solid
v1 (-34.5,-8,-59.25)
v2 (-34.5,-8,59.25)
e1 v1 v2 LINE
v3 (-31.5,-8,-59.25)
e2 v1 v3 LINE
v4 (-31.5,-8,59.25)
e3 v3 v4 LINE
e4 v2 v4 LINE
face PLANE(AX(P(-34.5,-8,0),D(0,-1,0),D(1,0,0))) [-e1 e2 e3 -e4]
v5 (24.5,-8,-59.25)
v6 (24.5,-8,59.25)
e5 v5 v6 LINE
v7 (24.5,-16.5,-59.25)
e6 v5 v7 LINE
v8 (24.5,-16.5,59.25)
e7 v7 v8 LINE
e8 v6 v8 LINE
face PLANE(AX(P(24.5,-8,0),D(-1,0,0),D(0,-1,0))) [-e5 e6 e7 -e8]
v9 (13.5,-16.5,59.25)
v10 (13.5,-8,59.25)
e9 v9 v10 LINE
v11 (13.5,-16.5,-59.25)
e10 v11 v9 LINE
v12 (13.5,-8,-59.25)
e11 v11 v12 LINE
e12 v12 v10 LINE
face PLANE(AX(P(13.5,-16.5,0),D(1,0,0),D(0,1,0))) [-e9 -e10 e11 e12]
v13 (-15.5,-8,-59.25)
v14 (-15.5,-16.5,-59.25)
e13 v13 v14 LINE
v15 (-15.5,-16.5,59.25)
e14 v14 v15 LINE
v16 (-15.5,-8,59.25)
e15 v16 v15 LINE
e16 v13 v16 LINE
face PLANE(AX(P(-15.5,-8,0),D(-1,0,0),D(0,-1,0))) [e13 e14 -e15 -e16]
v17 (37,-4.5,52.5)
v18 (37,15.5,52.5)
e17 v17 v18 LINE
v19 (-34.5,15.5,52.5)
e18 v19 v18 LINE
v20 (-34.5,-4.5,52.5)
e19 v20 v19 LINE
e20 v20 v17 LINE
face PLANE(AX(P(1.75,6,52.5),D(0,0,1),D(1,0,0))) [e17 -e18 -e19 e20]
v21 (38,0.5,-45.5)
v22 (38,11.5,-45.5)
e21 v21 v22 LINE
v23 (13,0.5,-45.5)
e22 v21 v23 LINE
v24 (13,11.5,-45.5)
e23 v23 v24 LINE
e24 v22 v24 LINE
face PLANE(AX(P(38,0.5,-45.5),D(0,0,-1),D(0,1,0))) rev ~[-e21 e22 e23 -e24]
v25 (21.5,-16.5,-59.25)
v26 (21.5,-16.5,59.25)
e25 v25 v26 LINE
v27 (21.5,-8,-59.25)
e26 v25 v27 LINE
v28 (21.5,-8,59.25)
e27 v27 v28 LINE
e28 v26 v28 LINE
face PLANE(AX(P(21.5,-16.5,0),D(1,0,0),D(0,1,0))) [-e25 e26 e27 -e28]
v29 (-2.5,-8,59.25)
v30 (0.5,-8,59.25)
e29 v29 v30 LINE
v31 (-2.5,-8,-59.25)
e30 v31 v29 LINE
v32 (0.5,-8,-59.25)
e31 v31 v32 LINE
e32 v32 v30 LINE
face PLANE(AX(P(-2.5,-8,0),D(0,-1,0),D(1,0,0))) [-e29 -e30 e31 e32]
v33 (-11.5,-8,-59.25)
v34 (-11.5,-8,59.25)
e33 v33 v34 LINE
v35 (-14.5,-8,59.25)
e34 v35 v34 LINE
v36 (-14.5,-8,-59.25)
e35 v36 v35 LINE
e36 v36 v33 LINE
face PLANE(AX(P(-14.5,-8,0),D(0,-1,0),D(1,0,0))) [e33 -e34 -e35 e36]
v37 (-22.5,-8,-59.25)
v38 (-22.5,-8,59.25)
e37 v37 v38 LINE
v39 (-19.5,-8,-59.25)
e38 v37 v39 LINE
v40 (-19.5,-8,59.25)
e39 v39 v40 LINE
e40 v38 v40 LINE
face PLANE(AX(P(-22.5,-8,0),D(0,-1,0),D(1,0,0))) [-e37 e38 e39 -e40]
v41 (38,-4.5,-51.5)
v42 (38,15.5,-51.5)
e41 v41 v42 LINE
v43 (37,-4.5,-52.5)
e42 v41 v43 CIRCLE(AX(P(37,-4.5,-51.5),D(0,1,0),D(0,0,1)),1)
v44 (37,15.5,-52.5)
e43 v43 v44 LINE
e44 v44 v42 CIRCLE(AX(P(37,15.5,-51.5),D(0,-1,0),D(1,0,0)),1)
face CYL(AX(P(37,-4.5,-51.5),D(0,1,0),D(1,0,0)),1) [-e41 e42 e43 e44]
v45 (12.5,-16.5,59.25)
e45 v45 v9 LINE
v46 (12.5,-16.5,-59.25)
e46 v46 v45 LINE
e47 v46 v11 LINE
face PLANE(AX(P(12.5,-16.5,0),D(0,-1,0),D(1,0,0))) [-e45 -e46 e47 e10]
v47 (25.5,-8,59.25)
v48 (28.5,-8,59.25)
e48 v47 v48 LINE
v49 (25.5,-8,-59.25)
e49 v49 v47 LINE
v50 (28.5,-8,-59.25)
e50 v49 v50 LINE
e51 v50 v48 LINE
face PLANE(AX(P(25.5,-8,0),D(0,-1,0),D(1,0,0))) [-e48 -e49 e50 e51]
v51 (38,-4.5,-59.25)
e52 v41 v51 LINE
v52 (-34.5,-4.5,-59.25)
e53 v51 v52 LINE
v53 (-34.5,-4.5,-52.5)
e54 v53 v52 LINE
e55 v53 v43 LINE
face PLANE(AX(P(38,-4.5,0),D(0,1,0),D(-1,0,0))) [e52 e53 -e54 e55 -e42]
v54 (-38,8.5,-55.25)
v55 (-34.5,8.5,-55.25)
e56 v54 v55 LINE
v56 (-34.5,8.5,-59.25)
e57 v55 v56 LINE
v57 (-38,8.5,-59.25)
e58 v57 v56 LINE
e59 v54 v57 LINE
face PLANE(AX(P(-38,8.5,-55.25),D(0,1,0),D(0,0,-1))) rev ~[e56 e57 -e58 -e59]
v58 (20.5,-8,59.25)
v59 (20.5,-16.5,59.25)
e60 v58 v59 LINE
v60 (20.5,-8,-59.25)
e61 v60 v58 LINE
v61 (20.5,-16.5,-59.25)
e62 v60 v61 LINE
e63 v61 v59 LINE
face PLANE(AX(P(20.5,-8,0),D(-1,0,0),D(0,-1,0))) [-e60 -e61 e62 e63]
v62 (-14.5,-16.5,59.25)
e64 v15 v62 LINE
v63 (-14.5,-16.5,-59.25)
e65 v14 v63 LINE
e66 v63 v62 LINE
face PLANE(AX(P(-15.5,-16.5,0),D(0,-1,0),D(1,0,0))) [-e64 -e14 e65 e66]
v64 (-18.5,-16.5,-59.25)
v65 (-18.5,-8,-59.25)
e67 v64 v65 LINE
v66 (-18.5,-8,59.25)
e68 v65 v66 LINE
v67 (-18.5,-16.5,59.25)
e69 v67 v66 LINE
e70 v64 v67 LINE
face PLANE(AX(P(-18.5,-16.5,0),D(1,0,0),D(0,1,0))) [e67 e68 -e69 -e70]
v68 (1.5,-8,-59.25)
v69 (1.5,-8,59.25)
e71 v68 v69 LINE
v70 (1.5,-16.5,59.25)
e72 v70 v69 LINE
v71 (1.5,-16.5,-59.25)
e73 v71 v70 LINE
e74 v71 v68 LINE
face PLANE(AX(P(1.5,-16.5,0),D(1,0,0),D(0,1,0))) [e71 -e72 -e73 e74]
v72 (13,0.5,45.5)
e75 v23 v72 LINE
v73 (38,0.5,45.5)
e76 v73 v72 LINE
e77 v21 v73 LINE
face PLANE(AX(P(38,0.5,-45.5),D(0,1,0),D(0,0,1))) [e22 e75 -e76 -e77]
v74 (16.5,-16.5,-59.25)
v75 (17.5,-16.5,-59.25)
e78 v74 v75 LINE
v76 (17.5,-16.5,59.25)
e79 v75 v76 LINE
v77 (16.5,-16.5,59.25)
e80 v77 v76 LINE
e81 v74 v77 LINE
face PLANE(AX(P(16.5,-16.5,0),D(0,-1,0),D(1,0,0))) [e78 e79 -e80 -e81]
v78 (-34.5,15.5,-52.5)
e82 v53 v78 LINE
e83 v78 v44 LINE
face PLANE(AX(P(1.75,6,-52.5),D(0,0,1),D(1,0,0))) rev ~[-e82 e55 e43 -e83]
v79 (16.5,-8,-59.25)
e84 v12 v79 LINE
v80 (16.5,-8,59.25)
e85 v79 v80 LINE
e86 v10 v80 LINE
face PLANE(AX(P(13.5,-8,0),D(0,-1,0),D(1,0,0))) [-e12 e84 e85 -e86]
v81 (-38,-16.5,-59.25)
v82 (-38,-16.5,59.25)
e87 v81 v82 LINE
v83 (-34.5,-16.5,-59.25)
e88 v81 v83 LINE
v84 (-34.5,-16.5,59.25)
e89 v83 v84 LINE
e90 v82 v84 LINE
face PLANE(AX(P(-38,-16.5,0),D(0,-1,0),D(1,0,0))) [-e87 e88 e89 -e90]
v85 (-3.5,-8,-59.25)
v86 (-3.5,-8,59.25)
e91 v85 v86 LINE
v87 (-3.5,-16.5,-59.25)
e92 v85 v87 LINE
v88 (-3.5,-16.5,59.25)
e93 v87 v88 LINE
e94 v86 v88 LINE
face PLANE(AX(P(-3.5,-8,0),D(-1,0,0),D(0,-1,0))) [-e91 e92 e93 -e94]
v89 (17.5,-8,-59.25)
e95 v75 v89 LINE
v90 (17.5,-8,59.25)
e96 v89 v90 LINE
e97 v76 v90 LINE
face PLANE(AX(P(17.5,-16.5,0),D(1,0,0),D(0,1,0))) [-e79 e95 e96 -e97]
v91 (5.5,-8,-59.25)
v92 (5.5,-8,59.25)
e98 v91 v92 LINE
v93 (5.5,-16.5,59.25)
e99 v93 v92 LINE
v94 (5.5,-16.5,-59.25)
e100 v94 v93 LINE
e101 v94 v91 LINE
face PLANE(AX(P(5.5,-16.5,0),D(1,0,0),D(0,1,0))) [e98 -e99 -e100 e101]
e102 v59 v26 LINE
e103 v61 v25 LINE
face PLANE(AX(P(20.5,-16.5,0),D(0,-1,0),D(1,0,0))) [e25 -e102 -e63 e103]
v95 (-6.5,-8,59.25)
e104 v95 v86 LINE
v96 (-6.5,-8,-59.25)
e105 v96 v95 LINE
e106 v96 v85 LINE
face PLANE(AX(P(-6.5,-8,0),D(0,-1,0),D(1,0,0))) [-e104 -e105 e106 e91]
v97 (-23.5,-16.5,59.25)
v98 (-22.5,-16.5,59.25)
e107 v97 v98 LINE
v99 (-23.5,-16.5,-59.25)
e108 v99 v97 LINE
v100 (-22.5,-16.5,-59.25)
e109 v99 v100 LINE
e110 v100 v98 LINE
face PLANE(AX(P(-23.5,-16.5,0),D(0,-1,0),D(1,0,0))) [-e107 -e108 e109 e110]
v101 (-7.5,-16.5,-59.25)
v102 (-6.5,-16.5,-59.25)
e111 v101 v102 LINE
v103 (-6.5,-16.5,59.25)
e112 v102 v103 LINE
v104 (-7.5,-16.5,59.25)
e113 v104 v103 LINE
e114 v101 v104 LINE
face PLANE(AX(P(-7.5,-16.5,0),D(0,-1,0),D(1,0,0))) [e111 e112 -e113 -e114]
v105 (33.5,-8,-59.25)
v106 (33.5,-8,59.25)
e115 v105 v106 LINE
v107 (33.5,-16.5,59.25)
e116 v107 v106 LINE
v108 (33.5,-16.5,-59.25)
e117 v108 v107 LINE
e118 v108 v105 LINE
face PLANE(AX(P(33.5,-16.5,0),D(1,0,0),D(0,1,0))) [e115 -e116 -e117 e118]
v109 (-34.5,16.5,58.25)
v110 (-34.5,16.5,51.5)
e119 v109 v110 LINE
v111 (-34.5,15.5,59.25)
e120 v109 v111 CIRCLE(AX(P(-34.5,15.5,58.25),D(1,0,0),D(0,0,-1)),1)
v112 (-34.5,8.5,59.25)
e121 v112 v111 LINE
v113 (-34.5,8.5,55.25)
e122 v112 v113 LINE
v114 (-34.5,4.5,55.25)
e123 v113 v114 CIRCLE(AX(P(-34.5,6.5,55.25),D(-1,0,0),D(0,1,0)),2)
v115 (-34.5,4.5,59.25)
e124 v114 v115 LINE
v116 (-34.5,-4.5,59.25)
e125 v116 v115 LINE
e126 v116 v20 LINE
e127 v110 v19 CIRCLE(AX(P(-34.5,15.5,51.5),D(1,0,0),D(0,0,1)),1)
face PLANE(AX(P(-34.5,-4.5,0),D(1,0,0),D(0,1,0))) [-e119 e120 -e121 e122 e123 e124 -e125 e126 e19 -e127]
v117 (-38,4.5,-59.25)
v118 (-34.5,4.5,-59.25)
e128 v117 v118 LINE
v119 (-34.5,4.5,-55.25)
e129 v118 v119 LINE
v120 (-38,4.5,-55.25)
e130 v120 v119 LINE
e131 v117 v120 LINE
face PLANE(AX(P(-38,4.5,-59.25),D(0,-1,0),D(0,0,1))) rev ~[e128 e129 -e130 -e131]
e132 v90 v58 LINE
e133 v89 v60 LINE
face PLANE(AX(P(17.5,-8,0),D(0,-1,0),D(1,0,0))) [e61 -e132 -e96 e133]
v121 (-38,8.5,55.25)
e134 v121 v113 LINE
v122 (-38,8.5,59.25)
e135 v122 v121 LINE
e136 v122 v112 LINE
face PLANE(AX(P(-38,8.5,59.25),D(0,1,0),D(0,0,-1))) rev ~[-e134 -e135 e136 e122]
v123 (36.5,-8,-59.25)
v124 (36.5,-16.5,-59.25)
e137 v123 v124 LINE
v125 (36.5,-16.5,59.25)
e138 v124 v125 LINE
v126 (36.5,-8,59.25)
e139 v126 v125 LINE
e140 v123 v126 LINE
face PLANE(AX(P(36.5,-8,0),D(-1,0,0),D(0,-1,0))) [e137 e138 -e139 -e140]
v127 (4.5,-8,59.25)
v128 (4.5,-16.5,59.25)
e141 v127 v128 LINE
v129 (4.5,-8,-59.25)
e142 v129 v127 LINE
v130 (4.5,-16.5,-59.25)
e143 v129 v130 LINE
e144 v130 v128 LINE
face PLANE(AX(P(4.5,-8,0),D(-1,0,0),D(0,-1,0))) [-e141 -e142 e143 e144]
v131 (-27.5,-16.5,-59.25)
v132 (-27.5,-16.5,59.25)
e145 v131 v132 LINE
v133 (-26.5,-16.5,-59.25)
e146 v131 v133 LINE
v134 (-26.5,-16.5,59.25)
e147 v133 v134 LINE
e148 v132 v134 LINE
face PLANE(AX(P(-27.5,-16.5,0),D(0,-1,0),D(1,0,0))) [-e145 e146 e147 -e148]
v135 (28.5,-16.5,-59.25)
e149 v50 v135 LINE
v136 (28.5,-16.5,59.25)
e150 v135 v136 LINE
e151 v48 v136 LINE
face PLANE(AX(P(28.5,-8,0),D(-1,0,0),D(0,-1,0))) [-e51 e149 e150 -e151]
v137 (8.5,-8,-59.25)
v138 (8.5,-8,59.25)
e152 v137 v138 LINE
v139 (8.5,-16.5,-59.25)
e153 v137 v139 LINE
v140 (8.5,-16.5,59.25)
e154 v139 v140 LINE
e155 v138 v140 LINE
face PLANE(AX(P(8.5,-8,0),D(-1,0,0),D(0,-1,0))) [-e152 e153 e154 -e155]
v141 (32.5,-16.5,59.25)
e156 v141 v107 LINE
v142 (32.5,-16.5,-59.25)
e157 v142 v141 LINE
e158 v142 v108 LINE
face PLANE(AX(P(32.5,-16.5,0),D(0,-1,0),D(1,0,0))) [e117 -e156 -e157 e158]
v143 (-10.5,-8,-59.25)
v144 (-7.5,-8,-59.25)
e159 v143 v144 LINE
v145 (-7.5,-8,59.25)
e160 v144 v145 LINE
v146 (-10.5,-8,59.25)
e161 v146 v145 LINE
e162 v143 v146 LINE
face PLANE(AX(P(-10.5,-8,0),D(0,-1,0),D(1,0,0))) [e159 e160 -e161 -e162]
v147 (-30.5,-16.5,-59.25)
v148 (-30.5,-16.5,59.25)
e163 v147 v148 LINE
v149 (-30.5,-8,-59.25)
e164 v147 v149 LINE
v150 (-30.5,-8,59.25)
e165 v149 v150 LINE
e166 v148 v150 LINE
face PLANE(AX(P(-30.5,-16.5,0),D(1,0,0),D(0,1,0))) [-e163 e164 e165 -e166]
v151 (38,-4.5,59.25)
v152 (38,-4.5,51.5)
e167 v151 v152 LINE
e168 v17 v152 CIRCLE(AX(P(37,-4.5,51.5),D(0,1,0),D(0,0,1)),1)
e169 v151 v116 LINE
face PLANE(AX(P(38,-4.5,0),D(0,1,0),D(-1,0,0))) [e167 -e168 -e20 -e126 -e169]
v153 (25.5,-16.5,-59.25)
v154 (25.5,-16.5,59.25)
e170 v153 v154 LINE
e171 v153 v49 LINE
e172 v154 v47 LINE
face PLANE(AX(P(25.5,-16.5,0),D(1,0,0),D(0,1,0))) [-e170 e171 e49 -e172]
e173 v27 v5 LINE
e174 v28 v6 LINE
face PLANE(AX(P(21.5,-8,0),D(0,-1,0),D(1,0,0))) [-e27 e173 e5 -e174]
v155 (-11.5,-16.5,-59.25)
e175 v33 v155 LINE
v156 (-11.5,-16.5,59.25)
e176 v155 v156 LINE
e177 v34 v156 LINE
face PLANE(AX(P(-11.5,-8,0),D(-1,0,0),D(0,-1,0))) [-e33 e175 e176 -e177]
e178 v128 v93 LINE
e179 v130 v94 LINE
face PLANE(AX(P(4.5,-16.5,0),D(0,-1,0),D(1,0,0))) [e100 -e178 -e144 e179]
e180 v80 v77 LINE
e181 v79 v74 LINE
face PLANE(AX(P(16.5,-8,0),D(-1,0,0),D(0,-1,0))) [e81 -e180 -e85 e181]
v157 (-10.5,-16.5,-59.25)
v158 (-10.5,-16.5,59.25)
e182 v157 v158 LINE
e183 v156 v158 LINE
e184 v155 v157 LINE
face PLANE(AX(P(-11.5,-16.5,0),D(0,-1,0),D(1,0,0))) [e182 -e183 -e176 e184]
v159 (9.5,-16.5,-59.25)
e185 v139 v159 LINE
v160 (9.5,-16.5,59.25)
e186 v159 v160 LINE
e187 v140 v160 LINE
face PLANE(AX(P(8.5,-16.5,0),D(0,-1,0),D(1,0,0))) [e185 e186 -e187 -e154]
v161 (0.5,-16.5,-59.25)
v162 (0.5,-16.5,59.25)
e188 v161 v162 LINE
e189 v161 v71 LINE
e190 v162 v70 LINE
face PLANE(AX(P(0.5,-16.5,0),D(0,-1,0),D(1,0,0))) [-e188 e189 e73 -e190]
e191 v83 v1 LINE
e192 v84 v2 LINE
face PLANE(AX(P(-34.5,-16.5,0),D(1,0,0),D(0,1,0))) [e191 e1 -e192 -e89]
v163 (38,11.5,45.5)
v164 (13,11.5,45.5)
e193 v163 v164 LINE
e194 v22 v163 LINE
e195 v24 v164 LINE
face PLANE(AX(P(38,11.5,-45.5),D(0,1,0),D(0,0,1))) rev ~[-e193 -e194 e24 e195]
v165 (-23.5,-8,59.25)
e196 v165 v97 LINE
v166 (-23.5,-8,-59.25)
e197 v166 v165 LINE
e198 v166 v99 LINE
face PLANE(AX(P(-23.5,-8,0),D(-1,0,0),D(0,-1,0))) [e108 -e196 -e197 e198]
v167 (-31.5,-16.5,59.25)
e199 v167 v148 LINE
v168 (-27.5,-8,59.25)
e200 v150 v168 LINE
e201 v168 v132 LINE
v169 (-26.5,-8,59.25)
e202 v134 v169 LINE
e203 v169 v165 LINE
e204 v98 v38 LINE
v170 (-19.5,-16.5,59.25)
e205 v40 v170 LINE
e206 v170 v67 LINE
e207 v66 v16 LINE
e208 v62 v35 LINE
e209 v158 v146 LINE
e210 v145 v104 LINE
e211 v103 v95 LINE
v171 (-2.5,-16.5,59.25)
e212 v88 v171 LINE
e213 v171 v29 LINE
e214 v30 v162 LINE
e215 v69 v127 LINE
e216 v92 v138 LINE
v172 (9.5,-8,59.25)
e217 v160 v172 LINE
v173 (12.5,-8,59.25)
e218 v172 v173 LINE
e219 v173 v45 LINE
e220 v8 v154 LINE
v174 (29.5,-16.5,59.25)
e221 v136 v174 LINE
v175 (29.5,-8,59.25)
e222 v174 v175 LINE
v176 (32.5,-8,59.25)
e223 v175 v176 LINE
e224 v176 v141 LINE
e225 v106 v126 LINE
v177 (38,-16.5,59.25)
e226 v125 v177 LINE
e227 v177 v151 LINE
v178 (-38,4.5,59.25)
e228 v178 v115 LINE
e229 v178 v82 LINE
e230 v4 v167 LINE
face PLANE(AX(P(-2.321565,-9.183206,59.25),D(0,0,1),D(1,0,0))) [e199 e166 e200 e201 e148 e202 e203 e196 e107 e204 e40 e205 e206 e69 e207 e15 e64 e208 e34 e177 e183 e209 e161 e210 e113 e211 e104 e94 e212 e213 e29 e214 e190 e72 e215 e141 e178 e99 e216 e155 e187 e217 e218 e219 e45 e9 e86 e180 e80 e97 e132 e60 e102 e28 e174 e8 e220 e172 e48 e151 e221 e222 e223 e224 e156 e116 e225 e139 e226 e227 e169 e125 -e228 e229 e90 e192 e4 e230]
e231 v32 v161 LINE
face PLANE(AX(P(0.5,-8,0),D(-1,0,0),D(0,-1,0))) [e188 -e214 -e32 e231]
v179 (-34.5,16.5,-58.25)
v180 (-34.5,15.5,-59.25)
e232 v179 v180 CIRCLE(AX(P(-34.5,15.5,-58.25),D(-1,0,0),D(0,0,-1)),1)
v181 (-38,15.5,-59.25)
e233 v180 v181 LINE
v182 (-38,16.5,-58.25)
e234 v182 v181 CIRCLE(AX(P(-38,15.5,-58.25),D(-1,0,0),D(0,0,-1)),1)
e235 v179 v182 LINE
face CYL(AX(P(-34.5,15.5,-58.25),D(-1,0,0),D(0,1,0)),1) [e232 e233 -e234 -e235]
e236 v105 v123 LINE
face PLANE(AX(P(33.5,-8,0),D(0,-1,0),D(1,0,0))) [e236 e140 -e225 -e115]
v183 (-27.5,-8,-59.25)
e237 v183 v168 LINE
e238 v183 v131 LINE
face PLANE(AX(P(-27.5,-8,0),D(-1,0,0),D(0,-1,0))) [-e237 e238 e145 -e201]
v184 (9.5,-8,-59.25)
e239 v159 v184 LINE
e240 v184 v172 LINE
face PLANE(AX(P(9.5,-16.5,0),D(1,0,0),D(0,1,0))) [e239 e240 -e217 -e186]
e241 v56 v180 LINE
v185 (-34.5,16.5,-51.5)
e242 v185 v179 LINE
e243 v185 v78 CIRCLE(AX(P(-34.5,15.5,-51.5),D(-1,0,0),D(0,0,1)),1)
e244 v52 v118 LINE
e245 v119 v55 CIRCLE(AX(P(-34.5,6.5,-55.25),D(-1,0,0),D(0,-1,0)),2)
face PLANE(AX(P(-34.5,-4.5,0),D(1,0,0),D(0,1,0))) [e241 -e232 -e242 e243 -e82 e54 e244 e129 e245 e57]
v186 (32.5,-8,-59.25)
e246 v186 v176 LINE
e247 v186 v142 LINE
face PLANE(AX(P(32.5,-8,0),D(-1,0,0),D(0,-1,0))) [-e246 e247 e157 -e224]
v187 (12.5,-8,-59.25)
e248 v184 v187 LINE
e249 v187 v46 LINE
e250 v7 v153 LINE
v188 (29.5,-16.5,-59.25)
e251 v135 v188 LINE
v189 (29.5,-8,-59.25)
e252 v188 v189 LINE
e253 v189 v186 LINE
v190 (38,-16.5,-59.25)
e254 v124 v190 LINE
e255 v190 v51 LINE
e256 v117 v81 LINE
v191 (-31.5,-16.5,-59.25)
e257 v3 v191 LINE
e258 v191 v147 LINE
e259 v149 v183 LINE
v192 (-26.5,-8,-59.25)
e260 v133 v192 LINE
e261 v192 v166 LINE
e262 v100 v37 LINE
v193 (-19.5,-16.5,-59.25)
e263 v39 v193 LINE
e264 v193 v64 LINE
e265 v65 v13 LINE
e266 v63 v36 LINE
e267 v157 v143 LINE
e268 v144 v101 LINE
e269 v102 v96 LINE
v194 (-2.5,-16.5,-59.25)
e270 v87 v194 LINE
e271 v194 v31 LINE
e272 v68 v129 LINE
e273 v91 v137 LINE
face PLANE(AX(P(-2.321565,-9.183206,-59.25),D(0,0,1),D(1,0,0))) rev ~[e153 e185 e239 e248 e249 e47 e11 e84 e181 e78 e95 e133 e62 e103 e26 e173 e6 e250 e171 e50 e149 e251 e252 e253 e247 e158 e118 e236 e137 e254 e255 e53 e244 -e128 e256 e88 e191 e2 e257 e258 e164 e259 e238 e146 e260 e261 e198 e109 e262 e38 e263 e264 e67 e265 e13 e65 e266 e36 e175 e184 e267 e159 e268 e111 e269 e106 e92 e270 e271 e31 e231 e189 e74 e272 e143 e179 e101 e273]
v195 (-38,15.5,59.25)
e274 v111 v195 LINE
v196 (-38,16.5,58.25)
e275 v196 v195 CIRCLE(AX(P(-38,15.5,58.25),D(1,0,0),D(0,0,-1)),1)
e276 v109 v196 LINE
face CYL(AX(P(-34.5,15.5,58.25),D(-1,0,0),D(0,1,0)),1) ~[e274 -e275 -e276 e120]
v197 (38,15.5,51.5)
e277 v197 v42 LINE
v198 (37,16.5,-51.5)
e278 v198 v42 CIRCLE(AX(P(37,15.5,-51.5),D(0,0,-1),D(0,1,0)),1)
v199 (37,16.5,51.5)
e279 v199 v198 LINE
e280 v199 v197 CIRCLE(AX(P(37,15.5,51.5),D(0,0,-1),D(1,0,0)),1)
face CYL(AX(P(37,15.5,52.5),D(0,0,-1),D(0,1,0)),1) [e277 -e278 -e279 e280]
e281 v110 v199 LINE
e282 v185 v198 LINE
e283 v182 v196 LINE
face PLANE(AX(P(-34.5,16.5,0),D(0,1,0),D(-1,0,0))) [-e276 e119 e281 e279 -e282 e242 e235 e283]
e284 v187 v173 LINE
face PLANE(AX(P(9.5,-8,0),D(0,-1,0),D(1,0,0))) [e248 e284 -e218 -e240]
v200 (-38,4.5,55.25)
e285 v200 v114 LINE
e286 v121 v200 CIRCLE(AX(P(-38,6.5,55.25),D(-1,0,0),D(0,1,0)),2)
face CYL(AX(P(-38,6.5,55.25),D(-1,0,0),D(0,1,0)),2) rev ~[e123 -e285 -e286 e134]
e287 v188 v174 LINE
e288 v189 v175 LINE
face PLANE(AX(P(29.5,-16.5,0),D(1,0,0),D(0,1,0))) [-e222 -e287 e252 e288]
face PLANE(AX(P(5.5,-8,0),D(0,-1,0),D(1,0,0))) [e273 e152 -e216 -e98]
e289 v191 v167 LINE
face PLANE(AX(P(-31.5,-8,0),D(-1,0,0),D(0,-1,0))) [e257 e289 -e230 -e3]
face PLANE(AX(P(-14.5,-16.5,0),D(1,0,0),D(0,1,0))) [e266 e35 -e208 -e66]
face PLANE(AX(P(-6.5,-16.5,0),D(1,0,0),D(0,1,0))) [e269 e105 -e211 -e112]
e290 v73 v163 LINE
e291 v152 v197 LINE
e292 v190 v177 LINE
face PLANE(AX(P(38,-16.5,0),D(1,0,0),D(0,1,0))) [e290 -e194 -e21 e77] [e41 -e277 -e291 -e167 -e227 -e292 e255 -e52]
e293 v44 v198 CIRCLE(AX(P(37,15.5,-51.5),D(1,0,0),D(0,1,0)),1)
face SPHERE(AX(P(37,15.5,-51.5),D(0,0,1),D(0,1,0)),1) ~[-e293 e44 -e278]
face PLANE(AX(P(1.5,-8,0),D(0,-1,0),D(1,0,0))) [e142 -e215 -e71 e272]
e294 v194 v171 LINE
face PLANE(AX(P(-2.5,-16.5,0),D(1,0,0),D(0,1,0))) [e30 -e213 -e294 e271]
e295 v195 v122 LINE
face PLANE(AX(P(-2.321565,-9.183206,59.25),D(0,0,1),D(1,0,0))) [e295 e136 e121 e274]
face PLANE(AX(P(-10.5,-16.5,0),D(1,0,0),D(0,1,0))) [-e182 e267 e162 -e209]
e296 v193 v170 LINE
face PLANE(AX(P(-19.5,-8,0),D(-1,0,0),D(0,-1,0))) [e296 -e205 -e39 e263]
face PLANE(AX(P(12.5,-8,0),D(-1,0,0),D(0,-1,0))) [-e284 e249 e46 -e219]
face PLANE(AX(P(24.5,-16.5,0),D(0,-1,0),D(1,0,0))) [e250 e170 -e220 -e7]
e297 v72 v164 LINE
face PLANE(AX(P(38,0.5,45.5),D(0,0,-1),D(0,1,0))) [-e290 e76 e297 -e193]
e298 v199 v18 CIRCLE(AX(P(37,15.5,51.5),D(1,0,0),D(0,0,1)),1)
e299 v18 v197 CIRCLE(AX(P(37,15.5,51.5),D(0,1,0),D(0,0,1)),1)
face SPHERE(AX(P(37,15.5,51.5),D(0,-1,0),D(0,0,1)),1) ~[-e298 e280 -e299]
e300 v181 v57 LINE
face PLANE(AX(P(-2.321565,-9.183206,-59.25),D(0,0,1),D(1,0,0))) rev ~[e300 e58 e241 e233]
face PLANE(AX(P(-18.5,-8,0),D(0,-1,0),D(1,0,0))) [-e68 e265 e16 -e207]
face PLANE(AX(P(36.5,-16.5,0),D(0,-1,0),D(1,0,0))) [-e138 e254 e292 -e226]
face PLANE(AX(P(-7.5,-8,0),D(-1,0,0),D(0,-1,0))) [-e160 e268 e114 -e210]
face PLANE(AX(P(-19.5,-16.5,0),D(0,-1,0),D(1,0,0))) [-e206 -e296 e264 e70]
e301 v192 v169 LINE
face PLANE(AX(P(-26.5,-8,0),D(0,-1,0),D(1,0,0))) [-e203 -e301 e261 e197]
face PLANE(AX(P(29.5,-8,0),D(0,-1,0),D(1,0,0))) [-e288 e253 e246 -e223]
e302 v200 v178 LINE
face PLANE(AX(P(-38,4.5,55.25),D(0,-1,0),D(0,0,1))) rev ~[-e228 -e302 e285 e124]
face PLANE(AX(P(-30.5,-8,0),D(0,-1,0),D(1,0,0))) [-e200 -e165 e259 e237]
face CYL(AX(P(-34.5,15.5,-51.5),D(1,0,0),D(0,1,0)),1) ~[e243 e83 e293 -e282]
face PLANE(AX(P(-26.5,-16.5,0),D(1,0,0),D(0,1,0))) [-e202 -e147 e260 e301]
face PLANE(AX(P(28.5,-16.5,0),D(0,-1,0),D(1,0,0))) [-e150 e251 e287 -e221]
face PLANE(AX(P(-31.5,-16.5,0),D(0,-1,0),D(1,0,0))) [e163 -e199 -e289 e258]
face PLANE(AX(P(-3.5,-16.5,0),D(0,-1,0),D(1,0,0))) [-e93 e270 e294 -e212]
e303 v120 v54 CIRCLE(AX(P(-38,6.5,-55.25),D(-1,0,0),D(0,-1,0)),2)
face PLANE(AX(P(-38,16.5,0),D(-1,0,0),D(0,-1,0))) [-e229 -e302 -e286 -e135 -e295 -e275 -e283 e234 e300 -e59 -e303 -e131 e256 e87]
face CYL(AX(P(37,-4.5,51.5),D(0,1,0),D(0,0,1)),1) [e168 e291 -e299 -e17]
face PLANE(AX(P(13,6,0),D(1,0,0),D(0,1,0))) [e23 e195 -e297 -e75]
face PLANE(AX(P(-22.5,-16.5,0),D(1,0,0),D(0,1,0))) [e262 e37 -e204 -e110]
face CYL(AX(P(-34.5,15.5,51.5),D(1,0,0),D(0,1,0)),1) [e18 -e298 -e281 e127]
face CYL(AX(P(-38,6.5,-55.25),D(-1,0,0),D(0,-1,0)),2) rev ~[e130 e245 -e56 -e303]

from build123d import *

# Parameters (mm, degrees)
F2_DEPTH = 59.25
F1_W     = 72.5
F1_H     = 21
F3_DEPTH = 52.5
F5_DEPTH = 3.5
F6_W     = 11
F6_H     = 91
F7_DEPTH = 25
F8_R     = 1


with BuildPart() as f2:
    # F1 (on Top) → F2 (new body, symmetric)
    with BuildSketch(Plane.XY):
        Polygon((-34.5, 16.5), (-38, 16.5), (-38, -16.5), (-34.5, -16.5), (-34.5, -8), (-31.5, -8), (-31.5, -16.5), (-30.5, -16.5), (-30.5, -8), (-27.5, -8), (-27.5, -16.5), (-26.5, -16.5), (-26.5, -8), (-23.5, -8), (-23.5, -16.5), (-22.5, -16.5), (-22.5, -8), (-19.5, -8), (-19.5, -16.5), (-18.5, -16.5), (-18.5, -8), (-15.5, -8), (-15.5, -16.5), (-14.5, -16.5), (-14.5, -8), (-11.5, -8), (-11.5, -16.5), (-10.5, -16.5), (-10.5, -8), (-7.5, -8), (-7.5, -16.5), (-6.5, -16.5), (-6.5, -8), (-3.5, -8), (-3.5, -16.5), (-2.5, -16.5), (-2.5, -8), (0.5, -8), (0.5, -16.5), (1.5, -16.5), (1.5, -8), (4.5, -8), (4.5, -16.5), (5.5, -16.5), (5.5, -8), (8.5, -8), (8.5, -16.5), (9.5, -16.5), (9.5, -8), (12.5, -8), (12.5, -16.5), (13.5, -16.5), (13.5, -8), (16.5, -8), (16.5, -16.5), (17.5, -16.5), (17.5, -8), (20.5, -8), (20.5, -16.5), (21.5, -16.5), (21.5, -8), (24.5, -8), (24.5, -16.5), (25.5, -16.5), (25.5, -8), (28.5, -8), (28.5, -16.5), (29.5, -16.5), (29.5, -8), (32.5, -8), (32.5, -16.5), (33.5, -16.5), (33.5, -8), (36.5, -8), (36.5, -16.5), (38, -16.5), (38, -4.5), (-34.5, -4.5), align=None)
    extrude(amount=F2_DEPTH, both=True)

    # F1 (on Top) → F3 (join, symmetric)
    with BuildSketch(Plane.XY):
        with Locations((1.75, 6)):
            Rectangle(F1_W, F1_H)
    extrude(amount=F3_DEPTH, both=True)

    # F4 (on face) → F5 (cut, through all)
    with BuildSketch(Plane(origin=(-38, 0, 0), x_dir=(0, -1, 0), z_dir=(-1, 0, 0))):
        with BuildLine():
            Line((-4.5, 59.25), (-8.5, 59.25))
            Line((-8.5, 59.25), (-8.5, 55.25))
            ThreePointArc((-8.5, 55.25), (-6.5, 53.25), (-4.5, 55.25))
            Line((-4.5, 55.25), (-4.5, 59.25))
        make_face()
        with BuildLine():
            Line((-8.5, -55.25), (-8.5, -59.25))
            Line((-8.5, -59.25), (-4.5, -59.25))
            Line((-4.5, -59.25), (-4.5, -55.25))
            ThreePointArc((-4.5, -55.25), (-6.5, -53.25), (-8.5, -55.25))
        make_face()
    extrude(amount=-F5_DEPTH, mode=Mode.SUBTRACT)

    # F6 (on face) → F7 (cut)
    with BuildSketch(Plane.YZ.offset(38)):
        with Locations((6, 0)):
            Rectangle(F6_W, F6_H)
    extrude(amount=-F7_DEPTH, mode=Mode.SUBTRACT)

    # F8
    f8_edges = [f2.edges().sort_by_distance(p)[0] for p in [
        (38, 6, 52.5),
        (1.75, 16.5, 52.5),
        (38, 16.5, 0),
        (-36.25, 16.5, 59.25),
        (1.75, 16.5, -52.5),
        (38, 6, -52.5),
        (-36.25, 16.5, -59.25),
    ]]
    fillet(f8_edges, radius=F8_R)


solid = f2.part
